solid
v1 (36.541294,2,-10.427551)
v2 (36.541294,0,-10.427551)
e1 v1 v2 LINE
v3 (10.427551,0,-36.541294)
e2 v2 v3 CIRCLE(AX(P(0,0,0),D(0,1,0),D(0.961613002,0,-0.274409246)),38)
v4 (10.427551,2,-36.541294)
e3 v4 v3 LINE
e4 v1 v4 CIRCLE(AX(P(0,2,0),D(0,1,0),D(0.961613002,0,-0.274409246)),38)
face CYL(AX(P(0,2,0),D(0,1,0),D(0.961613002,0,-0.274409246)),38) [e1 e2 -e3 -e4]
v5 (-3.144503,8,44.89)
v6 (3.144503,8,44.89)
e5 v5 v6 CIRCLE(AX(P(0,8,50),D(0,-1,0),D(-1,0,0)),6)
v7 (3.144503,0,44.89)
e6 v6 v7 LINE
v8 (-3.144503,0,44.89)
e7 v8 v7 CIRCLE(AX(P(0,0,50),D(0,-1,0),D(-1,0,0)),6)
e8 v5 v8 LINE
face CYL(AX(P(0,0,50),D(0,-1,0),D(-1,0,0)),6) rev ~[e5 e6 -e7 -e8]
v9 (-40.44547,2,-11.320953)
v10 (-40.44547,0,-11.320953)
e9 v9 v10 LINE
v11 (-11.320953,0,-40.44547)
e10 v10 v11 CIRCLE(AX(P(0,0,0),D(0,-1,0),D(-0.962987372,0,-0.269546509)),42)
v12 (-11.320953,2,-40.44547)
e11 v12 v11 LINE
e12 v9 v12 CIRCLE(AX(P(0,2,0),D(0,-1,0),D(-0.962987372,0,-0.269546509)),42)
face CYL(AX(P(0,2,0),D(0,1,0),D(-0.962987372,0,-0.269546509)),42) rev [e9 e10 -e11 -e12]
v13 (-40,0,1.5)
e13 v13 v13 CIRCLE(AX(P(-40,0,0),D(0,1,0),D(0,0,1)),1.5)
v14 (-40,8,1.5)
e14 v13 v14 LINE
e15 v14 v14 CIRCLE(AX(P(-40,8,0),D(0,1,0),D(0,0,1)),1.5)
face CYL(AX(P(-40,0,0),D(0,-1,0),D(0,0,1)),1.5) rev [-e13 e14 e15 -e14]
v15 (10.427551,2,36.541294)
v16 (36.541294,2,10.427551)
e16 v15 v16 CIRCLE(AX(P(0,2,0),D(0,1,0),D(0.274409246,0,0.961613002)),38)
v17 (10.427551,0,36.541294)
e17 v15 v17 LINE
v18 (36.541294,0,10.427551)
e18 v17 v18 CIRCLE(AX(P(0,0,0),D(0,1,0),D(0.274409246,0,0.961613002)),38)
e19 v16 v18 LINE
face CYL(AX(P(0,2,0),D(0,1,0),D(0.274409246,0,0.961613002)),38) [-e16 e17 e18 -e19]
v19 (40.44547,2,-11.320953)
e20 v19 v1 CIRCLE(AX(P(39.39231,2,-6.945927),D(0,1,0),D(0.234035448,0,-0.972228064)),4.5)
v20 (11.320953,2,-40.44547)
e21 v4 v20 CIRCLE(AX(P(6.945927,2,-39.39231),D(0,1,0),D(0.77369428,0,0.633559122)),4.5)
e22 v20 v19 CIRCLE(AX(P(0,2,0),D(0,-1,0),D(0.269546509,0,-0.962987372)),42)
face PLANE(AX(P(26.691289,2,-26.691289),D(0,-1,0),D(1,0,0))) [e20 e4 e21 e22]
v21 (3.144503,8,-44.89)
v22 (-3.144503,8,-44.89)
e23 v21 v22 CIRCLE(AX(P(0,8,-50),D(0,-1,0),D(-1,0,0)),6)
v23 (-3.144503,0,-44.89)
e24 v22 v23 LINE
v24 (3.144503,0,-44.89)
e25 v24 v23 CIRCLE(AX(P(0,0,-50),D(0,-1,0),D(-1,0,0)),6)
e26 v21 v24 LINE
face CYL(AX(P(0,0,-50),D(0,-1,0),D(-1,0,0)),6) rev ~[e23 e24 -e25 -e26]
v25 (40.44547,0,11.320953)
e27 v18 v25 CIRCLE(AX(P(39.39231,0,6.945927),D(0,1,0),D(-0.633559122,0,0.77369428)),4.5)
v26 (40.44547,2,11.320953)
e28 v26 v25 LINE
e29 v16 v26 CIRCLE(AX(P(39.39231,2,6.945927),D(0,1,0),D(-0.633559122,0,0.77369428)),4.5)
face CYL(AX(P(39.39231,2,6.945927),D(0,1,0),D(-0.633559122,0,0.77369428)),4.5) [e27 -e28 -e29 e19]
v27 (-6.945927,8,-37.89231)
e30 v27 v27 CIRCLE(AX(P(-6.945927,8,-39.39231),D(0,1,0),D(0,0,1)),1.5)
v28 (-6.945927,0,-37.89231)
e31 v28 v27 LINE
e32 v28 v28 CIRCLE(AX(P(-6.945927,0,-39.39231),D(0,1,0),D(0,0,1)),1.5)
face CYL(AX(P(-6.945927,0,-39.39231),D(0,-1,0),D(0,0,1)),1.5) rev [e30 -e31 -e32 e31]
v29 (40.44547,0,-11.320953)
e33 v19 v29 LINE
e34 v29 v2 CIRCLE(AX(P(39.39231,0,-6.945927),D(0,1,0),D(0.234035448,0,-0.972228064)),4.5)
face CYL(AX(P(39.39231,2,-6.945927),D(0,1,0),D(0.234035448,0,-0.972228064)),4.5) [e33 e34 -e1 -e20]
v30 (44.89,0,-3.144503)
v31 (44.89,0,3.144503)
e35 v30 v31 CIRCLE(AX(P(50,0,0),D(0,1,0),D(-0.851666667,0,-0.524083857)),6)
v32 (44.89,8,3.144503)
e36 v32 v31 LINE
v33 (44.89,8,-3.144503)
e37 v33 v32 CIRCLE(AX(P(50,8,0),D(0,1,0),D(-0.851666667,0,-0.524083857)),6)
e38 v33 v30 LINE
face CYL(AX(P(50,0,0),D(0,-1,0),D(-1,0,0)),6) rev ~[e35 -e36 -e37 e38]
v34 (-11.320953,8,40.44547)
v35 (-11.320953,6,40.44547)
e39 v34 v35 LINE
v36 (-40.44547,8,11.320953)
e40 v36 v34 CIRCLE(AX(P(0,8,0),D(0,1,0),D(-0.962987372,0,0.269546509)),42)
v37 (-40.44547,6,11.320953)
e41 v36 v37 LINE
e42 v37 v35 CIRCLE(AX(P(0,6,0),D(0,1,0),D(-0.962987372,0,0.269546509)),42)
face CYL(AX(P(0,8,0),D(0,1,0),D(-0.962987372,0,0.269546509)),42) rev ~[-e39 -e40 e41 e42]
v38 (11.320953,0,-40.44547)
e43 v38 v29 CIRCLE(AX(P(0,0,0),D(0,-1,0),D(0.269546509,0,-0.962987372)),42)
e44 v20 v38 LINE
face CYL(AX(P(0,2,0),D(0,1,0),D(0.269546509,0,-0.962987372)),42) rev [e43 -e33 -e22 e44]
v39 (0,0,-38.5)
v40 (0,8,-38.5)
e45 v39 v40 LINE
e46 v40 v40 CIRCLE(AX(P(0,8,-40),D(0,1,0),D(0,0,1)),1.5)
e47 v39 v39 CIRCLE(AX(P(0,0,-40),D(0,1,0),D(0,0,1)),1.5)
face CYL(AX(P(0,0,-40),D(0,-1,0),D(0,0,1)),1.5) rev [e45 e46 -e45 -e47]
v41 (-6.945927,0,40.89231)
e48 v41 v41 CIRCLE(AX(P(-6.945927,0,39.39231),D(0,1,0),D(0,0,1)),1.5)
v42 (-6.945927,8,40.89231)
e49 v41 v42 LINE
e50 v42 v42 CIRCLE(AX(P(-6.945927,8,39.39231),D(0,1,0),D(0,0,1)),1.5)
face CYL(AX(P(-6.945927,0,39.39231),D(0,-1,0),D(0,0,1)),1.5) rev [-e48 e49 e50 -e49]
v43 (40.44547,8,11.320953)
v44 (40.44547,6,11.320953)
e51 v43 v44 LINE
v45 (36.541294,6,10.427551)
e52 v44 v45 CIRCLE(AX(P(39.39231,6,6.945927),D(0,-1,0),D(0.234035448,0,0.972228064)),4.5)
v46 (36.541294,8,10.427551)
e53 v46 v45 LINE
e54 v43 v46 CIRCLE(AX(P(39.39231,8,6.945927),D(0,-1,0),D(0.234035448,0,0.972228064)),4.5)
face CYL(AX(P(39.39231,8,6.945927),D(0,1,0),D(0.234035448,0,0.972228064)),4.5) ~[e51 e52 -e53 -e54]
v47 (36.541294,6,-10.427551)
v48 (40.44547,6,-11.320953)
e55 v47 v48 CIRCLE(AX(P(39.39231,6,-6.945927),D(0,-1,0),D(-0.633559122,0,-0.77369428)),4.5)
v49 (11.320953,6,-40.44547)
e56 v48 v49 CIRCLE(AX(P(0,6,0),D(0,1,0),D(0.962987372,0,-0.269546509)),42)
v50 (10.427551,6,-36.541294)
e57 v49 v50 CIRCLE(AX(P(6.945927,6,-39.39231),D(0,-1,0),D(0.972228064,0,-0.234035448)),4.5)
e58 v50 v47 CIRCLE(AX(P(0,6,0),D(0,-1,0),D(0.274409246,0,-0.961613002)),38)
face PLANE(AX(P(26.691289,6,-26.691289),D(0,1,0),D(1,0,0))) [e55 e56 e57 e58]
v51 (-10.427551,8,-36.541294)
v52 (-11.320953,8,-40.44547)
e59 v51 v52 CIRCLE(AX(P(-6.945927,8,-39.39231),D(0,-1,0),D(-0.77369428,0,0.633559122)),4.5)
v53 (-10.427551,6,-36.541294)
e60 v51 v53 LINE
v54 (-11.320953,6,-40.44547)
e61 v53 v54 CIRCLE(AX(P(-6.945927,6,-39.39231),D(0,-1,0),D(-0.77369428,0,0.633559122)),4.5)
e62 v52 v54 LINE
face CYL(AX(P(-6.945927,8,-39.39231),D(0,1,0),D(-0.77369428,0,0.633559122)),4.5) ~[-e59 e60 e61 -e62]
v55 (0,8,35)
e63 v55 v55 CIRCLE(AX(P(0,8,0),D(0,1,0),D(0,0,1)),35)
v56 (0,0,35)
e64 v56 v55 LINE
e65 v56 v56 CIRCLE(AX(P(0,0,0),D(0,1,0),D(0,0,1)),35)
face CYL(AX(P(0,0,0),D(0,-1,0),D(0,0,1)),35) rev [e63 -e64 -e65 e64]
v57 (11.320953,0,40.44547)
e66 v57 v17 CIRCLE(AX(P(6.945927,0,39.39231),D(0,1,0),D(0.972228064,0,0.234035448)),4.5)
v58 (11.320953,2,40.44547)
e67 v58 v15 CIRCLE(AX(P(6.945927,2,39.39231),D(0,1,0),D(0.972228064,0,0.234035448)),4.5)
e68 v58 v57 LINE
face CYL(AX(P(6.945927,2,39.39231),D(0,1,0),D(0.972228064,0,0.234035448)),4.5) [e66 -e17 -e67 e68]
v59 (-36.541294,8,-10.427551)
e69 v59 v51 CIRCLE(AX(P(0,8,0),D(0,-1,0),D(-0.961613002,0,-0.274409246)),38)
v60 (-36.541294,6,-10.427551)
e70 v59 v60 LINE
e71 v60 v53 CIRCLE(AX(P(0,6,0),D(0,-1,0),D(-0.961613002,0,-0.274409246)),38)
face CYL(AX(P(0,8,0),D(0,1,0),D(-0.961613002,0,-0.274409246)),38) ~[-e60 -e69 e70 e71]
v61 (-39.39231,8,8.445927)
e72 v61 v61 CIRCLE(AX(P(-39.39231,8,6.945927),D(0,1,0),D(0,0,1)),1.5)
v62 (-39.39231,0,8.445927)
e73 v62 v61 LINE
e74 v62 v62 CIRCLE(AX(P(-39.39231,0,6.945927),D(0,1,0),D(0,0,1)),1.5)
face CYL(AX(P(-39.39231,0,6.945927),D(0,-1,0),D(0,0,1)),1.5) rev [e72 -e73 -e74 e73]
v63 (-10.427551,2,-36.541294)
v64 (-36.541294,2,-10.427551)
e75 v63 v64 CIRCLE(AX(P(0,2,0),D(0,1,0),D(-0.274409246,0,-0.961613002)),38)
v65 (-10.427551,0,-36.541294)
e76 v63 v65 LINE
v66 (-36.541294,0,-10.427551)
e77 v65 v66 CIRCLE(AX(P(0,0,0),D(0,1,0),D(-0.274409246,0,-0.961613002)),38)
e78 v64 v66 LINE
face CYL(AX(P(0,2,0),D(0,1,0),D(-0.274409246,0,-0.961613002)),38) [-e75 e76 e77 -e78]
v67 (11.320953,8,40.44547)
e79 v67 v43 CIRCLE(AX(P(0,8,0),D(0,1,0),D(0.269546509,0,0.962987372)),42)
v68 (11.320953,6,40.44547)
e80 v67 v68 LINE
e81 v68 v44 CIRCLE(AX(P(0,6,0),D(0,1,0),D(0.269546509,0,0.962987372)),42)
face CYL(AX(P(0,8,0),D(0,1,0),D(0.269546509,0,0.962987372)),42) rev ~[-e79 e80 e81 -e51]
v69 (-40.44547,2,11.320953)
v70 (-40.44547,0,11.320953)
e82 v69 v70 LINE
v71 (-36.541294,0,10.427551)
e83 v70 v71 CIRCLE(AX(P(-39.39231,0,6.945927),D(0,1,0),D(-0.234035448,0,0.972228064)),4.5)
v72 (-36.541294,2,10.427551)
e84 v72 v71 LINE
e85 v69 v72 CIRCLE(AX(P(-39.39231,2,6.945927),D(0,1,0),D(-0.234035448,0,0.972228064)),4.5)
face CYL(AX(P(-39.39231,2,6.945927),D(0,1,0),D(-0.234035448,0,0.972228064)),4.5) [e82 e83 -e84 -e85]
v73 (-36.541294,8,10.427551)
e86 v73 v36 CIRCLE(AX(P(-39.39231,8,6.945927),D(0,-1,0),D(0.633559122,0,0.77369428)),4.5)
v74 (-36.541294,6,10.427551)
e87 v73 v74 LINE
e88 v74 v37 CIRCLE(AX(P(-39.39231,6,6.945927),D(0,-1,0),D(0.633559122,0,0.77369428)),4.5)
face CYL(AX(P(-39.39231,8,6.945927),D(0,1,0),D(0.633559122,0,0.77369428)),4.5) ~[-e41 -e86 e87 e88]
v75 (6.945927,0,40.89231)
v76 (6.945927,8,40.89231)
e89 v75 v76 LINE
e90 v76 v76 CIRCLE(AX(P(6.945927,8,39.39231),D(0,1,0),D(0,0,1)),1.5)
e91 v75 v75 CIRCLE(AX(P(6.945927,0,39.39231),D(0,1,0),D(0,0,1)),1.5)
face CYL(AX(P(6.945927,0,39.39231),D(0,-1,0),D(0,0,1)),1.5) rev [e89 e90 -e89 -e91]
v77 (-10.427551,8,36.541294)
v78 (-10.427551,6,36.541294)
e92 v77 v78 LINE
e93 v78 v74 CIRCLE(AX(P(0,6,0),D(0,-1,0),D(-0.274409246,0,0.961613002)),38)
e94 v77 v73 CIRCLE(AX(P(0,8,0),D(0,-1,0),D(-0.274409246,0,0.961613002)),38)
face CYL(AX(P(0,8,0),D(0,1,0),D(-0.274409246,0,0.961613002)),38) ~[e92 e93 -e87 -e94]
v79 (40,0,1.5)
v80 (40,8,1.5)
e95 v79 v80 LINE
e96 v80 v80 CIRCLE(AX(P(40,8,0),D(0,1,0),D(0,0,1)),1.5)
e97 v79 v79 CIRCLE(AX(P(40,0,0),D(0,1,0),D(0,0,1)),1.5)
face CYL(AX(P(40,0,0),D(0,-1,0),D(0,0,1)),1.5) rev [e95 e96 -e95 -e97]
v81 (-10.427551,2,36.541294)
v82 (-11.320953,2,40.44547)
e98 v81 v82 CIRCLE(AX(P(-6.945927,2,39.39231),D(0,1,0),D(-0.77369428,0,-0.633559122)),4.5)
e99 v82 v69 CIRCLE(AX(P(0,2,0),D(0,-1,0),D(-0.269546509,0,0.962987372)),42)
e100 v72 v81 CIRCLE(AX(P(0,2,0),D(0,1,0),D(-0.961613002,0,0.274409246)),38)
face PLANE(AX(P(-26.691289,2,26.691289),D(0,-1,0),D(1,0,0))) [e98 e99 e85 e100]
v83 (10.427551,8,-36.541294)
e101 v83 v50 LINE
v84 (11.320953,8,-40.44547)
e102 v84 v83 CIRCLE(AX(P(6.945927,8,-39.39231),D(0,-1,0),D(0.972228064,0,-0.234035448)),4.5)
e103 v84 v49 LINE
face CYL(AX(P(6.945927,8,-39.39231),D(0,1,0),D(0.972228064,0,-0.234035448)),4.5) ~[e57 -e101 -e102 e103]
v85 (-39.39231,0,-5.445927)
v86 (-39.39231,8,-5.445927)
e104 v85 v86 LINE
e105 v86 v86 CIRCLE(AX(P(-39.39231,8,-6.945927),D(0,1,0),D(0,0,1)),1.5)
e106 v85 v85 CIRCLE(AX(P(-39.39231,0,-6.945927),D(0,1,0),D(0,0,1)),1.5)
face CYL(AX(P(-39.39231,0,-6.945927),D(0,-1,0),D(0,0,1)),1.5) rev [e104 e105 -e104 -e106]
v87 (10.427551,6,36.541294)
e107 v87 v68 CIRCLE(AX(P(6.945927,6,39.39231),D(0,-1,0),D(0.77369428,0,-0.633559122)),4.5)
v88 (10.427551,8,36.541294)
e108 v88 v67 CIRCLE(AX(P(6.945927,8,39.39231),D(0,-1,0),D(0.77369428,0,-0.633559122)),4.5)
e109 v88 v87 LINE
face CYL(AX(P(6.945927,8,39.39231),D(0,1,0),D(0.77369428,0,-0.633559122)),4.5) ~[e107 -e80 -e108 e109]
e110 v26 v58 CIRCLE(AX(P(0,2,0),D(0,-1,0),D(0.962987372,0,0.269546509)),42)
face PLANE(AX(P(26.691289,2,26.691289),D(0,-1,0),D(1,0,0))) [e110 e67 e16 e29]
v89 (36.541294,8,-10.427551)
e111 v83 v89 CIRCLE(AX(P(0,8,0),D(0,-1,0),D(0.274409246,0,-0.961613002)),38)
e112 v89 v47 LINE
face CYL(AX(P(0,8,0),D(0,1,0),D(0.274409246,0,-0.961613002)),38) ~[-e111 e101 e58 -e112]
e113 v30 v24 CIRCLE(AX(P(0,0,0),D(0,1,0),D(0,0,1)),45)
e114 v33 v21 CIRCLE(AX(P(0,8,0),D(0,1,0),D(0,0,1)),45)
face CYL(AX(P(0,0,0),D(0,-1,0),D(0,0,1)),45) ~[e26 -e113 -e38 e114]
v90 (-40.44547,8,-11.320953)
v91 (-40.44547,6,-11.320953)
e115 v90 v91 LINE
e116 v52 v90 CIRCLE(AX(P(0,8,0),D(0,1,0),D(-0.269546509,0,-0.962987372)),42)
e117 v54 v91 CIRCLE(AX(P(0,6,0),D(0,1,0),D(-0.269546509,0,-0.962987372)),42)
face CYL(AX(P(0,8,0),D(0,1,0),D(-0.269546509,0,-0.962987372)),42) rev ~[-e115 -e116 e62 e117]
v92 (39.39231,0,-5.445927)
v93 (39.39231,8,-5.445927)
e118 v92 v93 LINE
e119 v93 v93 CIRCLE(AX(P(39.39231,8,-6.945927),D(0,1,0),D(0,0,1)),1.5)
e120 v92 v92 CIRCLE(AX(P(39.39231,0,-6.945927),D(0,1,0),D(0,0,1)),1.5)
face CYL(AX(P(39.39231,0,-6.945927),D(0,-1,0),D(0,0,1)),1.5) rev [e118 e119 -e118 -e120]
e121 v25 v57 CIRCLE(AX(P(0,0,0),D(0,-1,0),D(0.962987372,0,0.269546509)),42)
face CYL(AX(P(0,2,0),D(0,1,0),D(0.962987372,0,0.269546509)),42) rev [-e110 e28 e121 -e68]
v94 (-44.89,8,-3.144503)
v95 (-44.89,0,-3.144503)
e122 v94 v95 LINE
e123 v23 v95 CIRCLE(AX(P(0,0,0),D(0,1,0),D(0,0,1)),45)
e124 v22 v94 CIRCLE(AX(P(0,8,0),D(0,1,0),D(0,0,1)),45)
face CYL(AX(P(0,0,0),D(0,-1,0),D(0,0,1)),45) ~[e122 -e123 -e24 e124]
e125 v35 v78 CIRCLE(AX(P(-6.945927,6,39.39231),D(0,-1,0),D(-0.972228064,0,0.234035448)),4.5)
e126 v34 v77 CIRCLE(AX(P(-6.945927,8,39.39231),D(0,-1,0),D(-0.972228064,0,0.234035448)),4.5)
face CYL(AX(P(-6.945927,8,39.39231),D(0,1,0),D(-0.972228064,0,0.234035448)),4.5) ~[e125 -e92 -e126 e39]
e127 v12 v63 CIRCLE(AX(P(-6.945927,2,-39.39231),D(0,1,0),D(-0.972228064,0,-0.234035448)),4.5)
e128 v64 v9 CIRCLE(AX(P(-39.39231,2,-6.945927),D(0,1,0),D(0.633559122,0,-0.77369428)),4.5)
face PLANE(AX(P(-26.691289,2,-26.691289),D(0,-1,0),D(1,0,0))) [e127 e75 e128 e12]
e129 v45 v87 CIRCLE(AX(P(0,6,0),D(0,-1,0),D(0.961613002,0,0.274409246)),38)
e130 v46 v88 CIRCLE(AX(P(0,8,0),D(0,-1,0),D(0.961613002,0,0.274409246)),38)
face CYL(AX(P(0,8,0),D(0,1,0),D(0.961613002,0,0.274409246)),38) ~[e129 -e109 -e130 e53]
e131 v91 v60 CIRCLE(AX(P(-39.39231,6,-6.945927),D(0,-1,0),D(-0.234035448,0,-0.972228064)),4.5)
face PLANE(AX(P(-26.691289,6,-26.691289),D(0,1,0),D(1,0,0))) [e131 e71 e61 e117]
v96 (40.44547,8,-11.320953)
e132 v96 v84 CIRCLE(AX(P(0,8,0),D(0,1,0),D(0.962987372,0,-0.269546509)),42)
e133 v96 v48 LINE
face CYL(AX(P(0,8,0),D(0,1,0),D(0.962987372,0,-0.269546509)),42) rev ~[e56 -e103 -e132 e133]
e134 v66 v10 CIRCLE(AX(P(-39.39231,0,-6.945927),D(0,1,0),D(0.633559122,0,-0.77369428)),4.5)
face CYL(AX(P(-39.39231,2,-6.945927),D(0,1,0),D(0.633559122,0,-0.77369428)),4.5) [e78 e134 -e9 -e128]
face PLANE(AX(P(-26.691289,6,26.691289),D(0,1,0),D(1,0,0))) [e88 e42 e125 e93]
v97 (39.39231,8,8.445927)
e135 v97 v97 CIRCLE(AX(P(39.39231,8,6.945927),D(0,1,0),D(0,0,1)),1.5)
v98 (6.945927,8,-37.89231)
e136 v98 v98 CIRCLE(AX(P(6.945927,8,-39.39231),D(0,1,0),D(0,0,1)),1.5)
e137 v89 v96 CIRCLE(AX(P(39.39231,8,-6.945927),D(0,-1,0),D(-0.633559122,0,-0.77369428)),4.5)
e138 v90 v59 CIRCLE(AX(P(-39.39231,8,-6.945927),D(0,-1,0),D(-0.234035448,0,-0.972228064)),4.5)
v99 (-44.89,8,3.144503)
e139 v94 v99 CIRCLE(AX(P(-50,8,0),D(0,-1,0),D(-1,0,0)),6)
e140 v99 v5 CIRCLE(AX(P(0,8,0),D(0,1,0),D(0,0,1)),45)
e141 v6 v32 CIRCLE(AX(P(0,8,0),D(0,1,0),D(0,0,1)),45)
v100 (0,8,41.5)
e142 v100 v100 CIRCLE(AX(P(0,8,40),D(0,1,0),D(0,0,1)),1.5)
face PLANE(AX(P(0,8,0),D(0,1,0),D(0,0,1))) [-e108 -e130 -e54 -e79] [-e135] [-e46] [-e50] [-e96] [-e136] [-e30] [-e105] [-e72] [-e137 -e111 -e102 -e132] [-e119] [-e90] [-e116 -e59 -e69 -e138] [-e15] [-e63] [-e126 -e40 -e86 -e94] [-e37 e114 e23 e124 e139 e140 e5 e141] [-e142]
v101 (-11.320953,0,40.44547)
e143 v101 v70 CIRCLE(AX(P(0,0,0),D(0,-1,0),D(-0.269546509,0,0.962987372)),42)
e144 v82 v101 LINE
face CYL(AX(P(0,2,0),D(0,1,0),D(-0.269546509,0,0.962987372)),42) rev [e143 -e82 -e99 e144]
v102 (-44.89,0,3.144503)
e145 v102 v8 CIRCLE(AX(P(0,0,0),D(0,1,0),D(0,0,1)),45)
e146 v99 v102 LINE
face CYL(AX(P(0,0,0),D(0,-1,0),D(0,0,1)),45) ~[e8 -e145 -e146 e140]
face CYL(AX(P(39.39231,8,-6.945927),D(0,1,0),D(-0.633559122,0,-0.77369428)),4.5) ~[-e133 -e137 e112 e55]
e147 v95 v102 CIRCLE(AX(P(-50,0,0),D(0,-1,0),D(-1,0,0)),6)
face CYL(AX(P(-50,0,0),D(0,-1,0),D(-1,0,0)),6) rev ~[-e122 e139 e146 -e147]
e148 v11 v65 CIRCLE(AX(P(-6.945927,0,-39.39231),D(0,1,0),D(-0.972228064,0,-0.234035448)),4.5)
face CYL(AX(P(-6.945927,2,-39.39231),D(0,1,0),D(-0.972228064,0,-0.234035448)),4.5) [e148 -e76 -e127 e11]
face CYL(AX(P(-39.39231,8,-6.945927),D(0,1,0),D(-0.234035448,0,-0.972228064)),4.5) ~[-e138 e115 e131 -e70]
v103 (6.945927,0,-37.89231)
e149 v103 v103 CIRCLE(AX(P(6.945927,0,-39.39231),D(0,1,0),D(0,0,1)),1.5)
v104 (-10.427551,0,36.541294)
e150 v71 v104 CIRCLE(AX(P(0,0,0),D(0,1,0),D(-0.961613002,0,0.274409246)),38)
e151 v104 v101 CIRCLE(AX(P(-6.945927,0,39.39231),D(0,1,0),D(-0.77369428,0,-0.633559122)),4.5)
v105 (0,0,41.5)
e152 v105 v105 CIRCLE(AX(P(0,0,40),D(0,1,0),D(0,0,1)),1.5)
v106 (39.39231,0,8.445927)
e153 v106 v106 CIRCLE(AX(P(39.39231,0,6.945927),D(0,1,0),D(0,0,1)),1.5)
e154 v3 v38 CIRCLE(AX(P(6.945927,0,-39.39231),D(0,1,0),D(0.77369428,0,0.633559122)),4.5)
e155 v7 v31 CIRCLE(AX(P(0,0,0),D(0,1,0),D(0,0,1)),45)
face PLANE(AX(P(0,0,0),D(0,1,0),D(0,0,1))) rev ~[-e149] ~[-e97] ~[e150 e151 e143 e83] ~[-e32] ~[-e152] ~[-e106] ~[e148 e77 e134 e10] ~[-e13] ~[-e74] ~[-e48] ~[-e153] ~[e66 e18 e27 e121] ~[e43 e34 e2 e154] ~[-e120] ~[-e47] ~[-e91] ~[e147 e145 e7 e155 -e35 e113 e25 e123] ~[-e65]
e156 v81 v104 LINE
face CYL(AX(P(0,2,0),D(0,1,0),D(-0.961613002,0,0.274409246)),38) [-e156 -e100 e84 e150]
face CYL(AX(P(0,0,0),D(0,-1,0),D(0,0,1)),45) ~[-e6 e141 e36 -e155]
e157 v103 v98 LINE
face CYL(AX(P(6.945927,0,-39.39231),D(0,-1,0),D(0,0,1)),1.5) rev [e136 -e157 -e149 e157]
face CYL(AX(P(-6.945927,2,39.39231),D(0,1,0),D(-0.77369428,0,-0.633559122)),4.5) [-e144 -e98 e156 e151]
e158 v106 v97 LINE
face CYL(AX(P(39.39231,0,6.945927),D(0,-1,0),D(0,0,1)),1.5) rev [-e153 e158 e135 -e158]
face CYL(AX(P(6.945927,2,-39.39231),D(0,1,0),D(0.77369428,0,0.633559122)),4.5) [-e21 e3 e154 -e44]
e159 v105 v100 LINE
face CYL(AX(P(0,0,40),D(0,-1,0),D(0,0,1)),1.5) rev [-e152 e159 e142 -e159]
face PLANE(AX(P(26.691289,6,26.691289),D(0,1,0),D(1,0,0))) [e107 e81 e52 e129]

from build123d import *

# Parameters (mm, degrees)
SKETCH1_R           = 45
SKETCH1_R_2         = 1.5
SKETCH1_R_3         = 35
BOSS_EXTRUDE1_DEPTH = 8
CUT_EXTRUDE1_DEPTH  = 2
CUT_EXTRUDE2_START  = -2
CUT_EXTRUDE2_DEPTH  = 2
SKETCH4_R           = 6
CUT_EXTRUDE3_DEPTH  = 10


with BuildPart() as part:
    # Sketch1 → Boss-Extrude1 (new body)
    with BuildSketch(Plane(origin=(0, 0, 0), x_dir=(1, 0, 0), z_dir=(0, 1, 0))):
        with Locations(Location((0, 0, 0), (0, 0, 270))):
            Circle(SKETCH1_R)
        with Locations(Location((0, 40, 0), (0, 0, 270))):
            Circle(SKETCH1_R_2, mode=Mode.SUBTRACT)
        with Locations(Location((40, 0, 0), (0, 0, 270))):
            Circle(SKETCH1_R_2, mode=Mode.SUBTRACT)
        with Locations(Location((0, -40, 0), (0, 0, 270))):
            Circle(SKETCH1_R_2, mode=Mode.SUBTRACT)
        with Locations(Location((-40, 0, 0), (0, 0, 270))):
            Circle(SKETCH1_R_2, mode=Mode.SUBTRACT)
        with Locations(Location((0, 0, 0), (0, 0, 270))):
            Circle(SKETCH1_R_3, mode=Mode.SUBTRACT)
        with Locations(Location((6.945927107, 39.39231012, 0), (0, 0, 270))):
            Circle(SKETCH1_R_2, mode=Mode.SUBTRACT)
        with Locations(Location((-6.945927107, 39.39231012, 0), (0, 0, 270))):
            Circle(SKETCH1_R_2, mode=Mode.SUBTRACT)
        with Locations(Location((39.39231012, 6.945927107, 0), (0, 0, 270))):
            Circle(SKETCH1_R_2, mode=Mode.SUBTRACT)
        with Locations(Location((39.39231012, -6.945927107, 0), (0, 0, 270))):
            Circle(SKETCH1_R_2, mode=Mode.SUBTRACT)
        with Locations(Location((6.945927107, -39.39231012, 0), (0, 0, 270))):
            Circle(SKETCH1_R_2, mode=Mode.SUBTRACT)
        with Locations(Location((-6.945927107, -39.39231012, 0), (0, 0, 270))):
            Circle(SKETCH1_R_2, mode=Mode.SUBTRACT)
        with Locations(Location((-39.39231012, -6.945927107, 0), (0, 0, 270))):
            Circle(SKETCH1_R_2, mode=Mode.SUBTRACT)
        with Locations(Location((-39.39231012, 6.945927107, 0), (0, 0, 270))):
            Circle(SKETCH1_R_2, mode=Mode.SUBTRACT)
    extrude(amount=BOSS_EXTRUDE1_DEPTH)

    # Sketch2 → Cut-Extrude1 (cut)
    with BuildSketch(Plane(origin=(0, 8, 0), x_dir=(1, 0, 0), z_dir=(0, 1, 0))):
        with BuildLine():
            ThreePointArc((10.427551367, 36.541294072), (26.870057685, 26.870057685), (36.541294072, 10.427551367))
            ThreePointArc((36.541294072, 10.427551367), (38.388510428, 11.332541539), (40.445469638, 11.320953396))
            ThreePointArc((40.445469638, 11.320953396), (29.69848481, 29.69848481), (11.320953396, 40.445469638))
            ThreePointArc((11.320953396, 40.445469638), (11.332541539, 38.388510428), (10.427551367, 36.541294072))
        make_face()
        with BuildLine():
            ThreePointArc((40.445469638, -11.320953396), (38.388510428, -11.332541539), (36.541294072, -10.427551367))
            ThreePointArc((36.541294072, -10.427551367), (26.870057685, -26.870057685), (10.427551367, -36.541294072))
            ThreePointArc((10.427551367, -36.541294072), (11.332541539, -38.388510428), (11.320953396, -40.445469638))
            ThreePointArc((11.320953396, -40.445469638), (29.69848481, -29.69848481), (40.445469638, -11.320953396))
        make_face()
        with BuildLine():
            ThreePointArc((-36.541294072, 10.427551367), (-26.870057685, 26.870057685), (-10.427551367, 36.541294072))
            ThreePointArc((-10.427551367, 36.541294072), (-11.332541539, 38.388510428), (-11.320953396, 40.445469638))
            ThreePointArc((-11.320953396, 40.445469638), (-29.69848481, 29.69848481), (-40.445469638, 11.320953396))
            ThreePointArc((-40.445469638, 11.320953396), (-38.388510428, 11.332541539), (-36.541294072, 10.427551367))
        make_face()
        with BuildLine():
            ThreePointArc((-11.320953396, -40.445469638), (-11.332541539, -38.388510428), (-10.427551367, -36.541294072))
            ThreePointArc((-10.427551367, -36.541294072), (-26.870057685, -26.870057685), (-36.541294072, -10.427551367))
            ThreePointArc((-36.541294072, -10.427551367), (-38.388510428, -11.332541539), (-40.445469638, -11.320953396))
            ThreePointArc((-40.445469638, -11.320953396), (-29.69848481, -29.69848481), (-11.320953396, -40.445469638))
        make_face()
    extrude(amount=-CUT_EXTRUDE1_DEPTH, mode=Mode.SUBTRACT)

    # Sketch3 → Cut-Extrude2 (cut)
    with BuildSketch(Plane.XZ.offset(CUT_EXTRUDE2_START)):
        with BuildLine():
            ThreePointArc((10.427551367, 36.541294072), (26.870057685, 26.870057685), (36.541294072, 10.427551367))
            ThreePointArc((36.541294072, 10.427551367), (38.388510428, 11.332541539), (40.445469638, 11.320953396))
            ThreePointArc((40.445469638, 11.320953396), (29.69848481, 29.69848481), (11.320953396, 40.445469638))
            ThreePointArc((11.320953396, 40.445469638), (11.332541539, 38.388510428), (10.427551367, 36.541294072))
        make_face()
        with BuildLine():
            ThreePointArc((40.445469638, -11.320953396), (38.388510428, -11.332541539), (36.541294072, -10.427551367))
            ThreePointArc((36.541294072, -10.427551367), (26.870057685, -26.870057685), (10.427551367, -36.541294072))
            ThreePointArc((10.427551367, -36.541294072), (11.332541539, -38.388510428), (11.320953396, -40.445469638))
            ThreePointArc((11.320953396, -40.445469638), (29.69848481, -29.69848481), (40.445469638, -11.320953396))
        make_face()
        with BuildLine():
            ThreePointArc((-36.541294072, 10.427551367), (-26.870057685, 26.870057685), (-10.427551367, 36.541294072))
            ThreePointArc((-10.427551367, 36.541294072), (-11.332541539, 38.388510428), (-11.320953396, 40.445469638))
            ThreePointArc((-11.320953396, 40.445469638), (-29.69848481, 29.69848481), (-40.445469638, 11.320953396))
            ThreePointArc((-40.445469638, 11.320953396), (-38.388510428, 11.332541539), (-36.541294072, 10.427551367))
        make_face()
        with BuildLine():
            ThreePointArc((-11.320953396, -40.445469638), (-11.332541539, -38.388510428), (-10.427551367, -36.541294072))
            ThreePointArc((-10.427551367, -36.541294072), (-26.870057685, -26.870057685), (-36.541294072, -10.427551367))
            ThreePointArc((-36.541294072, -10.427551367), (-38.388510428, -11.332541539), (-40.445469638, -11.320953396))
            ThreePointArc((-40.445469638, -11.320953396), (-29.69848481, -29.69848481), (-11.320953396, -40.445469638))
        make_face()
    extrude(amount=CUT_EXTRUDE2_DEPTH, mode=Mode.SUBTRACT)

    # Sketch4 → Cut-Extrude3 (cut)
    with BuildSketch(Plane(origin=(0, 0, 0), x_dir=(-1, 0, 0), z_dir=(0, -1, 0))):
        with Locations((0, 50)):
            Circle(SKETCH4_R)
        with Locations((50, 0)):
            Circle(SKETCH4_R)
        with Locations((0, -50)):
            Circle(SKETCH4_R)
        with Locations((-50, 0)):
            Circle(SKETCH4_R)
    extrude(amount=-CUT_EXTRUDE3_DEPTH, mode=Mode.SUBTRACT)


solid = part.part
